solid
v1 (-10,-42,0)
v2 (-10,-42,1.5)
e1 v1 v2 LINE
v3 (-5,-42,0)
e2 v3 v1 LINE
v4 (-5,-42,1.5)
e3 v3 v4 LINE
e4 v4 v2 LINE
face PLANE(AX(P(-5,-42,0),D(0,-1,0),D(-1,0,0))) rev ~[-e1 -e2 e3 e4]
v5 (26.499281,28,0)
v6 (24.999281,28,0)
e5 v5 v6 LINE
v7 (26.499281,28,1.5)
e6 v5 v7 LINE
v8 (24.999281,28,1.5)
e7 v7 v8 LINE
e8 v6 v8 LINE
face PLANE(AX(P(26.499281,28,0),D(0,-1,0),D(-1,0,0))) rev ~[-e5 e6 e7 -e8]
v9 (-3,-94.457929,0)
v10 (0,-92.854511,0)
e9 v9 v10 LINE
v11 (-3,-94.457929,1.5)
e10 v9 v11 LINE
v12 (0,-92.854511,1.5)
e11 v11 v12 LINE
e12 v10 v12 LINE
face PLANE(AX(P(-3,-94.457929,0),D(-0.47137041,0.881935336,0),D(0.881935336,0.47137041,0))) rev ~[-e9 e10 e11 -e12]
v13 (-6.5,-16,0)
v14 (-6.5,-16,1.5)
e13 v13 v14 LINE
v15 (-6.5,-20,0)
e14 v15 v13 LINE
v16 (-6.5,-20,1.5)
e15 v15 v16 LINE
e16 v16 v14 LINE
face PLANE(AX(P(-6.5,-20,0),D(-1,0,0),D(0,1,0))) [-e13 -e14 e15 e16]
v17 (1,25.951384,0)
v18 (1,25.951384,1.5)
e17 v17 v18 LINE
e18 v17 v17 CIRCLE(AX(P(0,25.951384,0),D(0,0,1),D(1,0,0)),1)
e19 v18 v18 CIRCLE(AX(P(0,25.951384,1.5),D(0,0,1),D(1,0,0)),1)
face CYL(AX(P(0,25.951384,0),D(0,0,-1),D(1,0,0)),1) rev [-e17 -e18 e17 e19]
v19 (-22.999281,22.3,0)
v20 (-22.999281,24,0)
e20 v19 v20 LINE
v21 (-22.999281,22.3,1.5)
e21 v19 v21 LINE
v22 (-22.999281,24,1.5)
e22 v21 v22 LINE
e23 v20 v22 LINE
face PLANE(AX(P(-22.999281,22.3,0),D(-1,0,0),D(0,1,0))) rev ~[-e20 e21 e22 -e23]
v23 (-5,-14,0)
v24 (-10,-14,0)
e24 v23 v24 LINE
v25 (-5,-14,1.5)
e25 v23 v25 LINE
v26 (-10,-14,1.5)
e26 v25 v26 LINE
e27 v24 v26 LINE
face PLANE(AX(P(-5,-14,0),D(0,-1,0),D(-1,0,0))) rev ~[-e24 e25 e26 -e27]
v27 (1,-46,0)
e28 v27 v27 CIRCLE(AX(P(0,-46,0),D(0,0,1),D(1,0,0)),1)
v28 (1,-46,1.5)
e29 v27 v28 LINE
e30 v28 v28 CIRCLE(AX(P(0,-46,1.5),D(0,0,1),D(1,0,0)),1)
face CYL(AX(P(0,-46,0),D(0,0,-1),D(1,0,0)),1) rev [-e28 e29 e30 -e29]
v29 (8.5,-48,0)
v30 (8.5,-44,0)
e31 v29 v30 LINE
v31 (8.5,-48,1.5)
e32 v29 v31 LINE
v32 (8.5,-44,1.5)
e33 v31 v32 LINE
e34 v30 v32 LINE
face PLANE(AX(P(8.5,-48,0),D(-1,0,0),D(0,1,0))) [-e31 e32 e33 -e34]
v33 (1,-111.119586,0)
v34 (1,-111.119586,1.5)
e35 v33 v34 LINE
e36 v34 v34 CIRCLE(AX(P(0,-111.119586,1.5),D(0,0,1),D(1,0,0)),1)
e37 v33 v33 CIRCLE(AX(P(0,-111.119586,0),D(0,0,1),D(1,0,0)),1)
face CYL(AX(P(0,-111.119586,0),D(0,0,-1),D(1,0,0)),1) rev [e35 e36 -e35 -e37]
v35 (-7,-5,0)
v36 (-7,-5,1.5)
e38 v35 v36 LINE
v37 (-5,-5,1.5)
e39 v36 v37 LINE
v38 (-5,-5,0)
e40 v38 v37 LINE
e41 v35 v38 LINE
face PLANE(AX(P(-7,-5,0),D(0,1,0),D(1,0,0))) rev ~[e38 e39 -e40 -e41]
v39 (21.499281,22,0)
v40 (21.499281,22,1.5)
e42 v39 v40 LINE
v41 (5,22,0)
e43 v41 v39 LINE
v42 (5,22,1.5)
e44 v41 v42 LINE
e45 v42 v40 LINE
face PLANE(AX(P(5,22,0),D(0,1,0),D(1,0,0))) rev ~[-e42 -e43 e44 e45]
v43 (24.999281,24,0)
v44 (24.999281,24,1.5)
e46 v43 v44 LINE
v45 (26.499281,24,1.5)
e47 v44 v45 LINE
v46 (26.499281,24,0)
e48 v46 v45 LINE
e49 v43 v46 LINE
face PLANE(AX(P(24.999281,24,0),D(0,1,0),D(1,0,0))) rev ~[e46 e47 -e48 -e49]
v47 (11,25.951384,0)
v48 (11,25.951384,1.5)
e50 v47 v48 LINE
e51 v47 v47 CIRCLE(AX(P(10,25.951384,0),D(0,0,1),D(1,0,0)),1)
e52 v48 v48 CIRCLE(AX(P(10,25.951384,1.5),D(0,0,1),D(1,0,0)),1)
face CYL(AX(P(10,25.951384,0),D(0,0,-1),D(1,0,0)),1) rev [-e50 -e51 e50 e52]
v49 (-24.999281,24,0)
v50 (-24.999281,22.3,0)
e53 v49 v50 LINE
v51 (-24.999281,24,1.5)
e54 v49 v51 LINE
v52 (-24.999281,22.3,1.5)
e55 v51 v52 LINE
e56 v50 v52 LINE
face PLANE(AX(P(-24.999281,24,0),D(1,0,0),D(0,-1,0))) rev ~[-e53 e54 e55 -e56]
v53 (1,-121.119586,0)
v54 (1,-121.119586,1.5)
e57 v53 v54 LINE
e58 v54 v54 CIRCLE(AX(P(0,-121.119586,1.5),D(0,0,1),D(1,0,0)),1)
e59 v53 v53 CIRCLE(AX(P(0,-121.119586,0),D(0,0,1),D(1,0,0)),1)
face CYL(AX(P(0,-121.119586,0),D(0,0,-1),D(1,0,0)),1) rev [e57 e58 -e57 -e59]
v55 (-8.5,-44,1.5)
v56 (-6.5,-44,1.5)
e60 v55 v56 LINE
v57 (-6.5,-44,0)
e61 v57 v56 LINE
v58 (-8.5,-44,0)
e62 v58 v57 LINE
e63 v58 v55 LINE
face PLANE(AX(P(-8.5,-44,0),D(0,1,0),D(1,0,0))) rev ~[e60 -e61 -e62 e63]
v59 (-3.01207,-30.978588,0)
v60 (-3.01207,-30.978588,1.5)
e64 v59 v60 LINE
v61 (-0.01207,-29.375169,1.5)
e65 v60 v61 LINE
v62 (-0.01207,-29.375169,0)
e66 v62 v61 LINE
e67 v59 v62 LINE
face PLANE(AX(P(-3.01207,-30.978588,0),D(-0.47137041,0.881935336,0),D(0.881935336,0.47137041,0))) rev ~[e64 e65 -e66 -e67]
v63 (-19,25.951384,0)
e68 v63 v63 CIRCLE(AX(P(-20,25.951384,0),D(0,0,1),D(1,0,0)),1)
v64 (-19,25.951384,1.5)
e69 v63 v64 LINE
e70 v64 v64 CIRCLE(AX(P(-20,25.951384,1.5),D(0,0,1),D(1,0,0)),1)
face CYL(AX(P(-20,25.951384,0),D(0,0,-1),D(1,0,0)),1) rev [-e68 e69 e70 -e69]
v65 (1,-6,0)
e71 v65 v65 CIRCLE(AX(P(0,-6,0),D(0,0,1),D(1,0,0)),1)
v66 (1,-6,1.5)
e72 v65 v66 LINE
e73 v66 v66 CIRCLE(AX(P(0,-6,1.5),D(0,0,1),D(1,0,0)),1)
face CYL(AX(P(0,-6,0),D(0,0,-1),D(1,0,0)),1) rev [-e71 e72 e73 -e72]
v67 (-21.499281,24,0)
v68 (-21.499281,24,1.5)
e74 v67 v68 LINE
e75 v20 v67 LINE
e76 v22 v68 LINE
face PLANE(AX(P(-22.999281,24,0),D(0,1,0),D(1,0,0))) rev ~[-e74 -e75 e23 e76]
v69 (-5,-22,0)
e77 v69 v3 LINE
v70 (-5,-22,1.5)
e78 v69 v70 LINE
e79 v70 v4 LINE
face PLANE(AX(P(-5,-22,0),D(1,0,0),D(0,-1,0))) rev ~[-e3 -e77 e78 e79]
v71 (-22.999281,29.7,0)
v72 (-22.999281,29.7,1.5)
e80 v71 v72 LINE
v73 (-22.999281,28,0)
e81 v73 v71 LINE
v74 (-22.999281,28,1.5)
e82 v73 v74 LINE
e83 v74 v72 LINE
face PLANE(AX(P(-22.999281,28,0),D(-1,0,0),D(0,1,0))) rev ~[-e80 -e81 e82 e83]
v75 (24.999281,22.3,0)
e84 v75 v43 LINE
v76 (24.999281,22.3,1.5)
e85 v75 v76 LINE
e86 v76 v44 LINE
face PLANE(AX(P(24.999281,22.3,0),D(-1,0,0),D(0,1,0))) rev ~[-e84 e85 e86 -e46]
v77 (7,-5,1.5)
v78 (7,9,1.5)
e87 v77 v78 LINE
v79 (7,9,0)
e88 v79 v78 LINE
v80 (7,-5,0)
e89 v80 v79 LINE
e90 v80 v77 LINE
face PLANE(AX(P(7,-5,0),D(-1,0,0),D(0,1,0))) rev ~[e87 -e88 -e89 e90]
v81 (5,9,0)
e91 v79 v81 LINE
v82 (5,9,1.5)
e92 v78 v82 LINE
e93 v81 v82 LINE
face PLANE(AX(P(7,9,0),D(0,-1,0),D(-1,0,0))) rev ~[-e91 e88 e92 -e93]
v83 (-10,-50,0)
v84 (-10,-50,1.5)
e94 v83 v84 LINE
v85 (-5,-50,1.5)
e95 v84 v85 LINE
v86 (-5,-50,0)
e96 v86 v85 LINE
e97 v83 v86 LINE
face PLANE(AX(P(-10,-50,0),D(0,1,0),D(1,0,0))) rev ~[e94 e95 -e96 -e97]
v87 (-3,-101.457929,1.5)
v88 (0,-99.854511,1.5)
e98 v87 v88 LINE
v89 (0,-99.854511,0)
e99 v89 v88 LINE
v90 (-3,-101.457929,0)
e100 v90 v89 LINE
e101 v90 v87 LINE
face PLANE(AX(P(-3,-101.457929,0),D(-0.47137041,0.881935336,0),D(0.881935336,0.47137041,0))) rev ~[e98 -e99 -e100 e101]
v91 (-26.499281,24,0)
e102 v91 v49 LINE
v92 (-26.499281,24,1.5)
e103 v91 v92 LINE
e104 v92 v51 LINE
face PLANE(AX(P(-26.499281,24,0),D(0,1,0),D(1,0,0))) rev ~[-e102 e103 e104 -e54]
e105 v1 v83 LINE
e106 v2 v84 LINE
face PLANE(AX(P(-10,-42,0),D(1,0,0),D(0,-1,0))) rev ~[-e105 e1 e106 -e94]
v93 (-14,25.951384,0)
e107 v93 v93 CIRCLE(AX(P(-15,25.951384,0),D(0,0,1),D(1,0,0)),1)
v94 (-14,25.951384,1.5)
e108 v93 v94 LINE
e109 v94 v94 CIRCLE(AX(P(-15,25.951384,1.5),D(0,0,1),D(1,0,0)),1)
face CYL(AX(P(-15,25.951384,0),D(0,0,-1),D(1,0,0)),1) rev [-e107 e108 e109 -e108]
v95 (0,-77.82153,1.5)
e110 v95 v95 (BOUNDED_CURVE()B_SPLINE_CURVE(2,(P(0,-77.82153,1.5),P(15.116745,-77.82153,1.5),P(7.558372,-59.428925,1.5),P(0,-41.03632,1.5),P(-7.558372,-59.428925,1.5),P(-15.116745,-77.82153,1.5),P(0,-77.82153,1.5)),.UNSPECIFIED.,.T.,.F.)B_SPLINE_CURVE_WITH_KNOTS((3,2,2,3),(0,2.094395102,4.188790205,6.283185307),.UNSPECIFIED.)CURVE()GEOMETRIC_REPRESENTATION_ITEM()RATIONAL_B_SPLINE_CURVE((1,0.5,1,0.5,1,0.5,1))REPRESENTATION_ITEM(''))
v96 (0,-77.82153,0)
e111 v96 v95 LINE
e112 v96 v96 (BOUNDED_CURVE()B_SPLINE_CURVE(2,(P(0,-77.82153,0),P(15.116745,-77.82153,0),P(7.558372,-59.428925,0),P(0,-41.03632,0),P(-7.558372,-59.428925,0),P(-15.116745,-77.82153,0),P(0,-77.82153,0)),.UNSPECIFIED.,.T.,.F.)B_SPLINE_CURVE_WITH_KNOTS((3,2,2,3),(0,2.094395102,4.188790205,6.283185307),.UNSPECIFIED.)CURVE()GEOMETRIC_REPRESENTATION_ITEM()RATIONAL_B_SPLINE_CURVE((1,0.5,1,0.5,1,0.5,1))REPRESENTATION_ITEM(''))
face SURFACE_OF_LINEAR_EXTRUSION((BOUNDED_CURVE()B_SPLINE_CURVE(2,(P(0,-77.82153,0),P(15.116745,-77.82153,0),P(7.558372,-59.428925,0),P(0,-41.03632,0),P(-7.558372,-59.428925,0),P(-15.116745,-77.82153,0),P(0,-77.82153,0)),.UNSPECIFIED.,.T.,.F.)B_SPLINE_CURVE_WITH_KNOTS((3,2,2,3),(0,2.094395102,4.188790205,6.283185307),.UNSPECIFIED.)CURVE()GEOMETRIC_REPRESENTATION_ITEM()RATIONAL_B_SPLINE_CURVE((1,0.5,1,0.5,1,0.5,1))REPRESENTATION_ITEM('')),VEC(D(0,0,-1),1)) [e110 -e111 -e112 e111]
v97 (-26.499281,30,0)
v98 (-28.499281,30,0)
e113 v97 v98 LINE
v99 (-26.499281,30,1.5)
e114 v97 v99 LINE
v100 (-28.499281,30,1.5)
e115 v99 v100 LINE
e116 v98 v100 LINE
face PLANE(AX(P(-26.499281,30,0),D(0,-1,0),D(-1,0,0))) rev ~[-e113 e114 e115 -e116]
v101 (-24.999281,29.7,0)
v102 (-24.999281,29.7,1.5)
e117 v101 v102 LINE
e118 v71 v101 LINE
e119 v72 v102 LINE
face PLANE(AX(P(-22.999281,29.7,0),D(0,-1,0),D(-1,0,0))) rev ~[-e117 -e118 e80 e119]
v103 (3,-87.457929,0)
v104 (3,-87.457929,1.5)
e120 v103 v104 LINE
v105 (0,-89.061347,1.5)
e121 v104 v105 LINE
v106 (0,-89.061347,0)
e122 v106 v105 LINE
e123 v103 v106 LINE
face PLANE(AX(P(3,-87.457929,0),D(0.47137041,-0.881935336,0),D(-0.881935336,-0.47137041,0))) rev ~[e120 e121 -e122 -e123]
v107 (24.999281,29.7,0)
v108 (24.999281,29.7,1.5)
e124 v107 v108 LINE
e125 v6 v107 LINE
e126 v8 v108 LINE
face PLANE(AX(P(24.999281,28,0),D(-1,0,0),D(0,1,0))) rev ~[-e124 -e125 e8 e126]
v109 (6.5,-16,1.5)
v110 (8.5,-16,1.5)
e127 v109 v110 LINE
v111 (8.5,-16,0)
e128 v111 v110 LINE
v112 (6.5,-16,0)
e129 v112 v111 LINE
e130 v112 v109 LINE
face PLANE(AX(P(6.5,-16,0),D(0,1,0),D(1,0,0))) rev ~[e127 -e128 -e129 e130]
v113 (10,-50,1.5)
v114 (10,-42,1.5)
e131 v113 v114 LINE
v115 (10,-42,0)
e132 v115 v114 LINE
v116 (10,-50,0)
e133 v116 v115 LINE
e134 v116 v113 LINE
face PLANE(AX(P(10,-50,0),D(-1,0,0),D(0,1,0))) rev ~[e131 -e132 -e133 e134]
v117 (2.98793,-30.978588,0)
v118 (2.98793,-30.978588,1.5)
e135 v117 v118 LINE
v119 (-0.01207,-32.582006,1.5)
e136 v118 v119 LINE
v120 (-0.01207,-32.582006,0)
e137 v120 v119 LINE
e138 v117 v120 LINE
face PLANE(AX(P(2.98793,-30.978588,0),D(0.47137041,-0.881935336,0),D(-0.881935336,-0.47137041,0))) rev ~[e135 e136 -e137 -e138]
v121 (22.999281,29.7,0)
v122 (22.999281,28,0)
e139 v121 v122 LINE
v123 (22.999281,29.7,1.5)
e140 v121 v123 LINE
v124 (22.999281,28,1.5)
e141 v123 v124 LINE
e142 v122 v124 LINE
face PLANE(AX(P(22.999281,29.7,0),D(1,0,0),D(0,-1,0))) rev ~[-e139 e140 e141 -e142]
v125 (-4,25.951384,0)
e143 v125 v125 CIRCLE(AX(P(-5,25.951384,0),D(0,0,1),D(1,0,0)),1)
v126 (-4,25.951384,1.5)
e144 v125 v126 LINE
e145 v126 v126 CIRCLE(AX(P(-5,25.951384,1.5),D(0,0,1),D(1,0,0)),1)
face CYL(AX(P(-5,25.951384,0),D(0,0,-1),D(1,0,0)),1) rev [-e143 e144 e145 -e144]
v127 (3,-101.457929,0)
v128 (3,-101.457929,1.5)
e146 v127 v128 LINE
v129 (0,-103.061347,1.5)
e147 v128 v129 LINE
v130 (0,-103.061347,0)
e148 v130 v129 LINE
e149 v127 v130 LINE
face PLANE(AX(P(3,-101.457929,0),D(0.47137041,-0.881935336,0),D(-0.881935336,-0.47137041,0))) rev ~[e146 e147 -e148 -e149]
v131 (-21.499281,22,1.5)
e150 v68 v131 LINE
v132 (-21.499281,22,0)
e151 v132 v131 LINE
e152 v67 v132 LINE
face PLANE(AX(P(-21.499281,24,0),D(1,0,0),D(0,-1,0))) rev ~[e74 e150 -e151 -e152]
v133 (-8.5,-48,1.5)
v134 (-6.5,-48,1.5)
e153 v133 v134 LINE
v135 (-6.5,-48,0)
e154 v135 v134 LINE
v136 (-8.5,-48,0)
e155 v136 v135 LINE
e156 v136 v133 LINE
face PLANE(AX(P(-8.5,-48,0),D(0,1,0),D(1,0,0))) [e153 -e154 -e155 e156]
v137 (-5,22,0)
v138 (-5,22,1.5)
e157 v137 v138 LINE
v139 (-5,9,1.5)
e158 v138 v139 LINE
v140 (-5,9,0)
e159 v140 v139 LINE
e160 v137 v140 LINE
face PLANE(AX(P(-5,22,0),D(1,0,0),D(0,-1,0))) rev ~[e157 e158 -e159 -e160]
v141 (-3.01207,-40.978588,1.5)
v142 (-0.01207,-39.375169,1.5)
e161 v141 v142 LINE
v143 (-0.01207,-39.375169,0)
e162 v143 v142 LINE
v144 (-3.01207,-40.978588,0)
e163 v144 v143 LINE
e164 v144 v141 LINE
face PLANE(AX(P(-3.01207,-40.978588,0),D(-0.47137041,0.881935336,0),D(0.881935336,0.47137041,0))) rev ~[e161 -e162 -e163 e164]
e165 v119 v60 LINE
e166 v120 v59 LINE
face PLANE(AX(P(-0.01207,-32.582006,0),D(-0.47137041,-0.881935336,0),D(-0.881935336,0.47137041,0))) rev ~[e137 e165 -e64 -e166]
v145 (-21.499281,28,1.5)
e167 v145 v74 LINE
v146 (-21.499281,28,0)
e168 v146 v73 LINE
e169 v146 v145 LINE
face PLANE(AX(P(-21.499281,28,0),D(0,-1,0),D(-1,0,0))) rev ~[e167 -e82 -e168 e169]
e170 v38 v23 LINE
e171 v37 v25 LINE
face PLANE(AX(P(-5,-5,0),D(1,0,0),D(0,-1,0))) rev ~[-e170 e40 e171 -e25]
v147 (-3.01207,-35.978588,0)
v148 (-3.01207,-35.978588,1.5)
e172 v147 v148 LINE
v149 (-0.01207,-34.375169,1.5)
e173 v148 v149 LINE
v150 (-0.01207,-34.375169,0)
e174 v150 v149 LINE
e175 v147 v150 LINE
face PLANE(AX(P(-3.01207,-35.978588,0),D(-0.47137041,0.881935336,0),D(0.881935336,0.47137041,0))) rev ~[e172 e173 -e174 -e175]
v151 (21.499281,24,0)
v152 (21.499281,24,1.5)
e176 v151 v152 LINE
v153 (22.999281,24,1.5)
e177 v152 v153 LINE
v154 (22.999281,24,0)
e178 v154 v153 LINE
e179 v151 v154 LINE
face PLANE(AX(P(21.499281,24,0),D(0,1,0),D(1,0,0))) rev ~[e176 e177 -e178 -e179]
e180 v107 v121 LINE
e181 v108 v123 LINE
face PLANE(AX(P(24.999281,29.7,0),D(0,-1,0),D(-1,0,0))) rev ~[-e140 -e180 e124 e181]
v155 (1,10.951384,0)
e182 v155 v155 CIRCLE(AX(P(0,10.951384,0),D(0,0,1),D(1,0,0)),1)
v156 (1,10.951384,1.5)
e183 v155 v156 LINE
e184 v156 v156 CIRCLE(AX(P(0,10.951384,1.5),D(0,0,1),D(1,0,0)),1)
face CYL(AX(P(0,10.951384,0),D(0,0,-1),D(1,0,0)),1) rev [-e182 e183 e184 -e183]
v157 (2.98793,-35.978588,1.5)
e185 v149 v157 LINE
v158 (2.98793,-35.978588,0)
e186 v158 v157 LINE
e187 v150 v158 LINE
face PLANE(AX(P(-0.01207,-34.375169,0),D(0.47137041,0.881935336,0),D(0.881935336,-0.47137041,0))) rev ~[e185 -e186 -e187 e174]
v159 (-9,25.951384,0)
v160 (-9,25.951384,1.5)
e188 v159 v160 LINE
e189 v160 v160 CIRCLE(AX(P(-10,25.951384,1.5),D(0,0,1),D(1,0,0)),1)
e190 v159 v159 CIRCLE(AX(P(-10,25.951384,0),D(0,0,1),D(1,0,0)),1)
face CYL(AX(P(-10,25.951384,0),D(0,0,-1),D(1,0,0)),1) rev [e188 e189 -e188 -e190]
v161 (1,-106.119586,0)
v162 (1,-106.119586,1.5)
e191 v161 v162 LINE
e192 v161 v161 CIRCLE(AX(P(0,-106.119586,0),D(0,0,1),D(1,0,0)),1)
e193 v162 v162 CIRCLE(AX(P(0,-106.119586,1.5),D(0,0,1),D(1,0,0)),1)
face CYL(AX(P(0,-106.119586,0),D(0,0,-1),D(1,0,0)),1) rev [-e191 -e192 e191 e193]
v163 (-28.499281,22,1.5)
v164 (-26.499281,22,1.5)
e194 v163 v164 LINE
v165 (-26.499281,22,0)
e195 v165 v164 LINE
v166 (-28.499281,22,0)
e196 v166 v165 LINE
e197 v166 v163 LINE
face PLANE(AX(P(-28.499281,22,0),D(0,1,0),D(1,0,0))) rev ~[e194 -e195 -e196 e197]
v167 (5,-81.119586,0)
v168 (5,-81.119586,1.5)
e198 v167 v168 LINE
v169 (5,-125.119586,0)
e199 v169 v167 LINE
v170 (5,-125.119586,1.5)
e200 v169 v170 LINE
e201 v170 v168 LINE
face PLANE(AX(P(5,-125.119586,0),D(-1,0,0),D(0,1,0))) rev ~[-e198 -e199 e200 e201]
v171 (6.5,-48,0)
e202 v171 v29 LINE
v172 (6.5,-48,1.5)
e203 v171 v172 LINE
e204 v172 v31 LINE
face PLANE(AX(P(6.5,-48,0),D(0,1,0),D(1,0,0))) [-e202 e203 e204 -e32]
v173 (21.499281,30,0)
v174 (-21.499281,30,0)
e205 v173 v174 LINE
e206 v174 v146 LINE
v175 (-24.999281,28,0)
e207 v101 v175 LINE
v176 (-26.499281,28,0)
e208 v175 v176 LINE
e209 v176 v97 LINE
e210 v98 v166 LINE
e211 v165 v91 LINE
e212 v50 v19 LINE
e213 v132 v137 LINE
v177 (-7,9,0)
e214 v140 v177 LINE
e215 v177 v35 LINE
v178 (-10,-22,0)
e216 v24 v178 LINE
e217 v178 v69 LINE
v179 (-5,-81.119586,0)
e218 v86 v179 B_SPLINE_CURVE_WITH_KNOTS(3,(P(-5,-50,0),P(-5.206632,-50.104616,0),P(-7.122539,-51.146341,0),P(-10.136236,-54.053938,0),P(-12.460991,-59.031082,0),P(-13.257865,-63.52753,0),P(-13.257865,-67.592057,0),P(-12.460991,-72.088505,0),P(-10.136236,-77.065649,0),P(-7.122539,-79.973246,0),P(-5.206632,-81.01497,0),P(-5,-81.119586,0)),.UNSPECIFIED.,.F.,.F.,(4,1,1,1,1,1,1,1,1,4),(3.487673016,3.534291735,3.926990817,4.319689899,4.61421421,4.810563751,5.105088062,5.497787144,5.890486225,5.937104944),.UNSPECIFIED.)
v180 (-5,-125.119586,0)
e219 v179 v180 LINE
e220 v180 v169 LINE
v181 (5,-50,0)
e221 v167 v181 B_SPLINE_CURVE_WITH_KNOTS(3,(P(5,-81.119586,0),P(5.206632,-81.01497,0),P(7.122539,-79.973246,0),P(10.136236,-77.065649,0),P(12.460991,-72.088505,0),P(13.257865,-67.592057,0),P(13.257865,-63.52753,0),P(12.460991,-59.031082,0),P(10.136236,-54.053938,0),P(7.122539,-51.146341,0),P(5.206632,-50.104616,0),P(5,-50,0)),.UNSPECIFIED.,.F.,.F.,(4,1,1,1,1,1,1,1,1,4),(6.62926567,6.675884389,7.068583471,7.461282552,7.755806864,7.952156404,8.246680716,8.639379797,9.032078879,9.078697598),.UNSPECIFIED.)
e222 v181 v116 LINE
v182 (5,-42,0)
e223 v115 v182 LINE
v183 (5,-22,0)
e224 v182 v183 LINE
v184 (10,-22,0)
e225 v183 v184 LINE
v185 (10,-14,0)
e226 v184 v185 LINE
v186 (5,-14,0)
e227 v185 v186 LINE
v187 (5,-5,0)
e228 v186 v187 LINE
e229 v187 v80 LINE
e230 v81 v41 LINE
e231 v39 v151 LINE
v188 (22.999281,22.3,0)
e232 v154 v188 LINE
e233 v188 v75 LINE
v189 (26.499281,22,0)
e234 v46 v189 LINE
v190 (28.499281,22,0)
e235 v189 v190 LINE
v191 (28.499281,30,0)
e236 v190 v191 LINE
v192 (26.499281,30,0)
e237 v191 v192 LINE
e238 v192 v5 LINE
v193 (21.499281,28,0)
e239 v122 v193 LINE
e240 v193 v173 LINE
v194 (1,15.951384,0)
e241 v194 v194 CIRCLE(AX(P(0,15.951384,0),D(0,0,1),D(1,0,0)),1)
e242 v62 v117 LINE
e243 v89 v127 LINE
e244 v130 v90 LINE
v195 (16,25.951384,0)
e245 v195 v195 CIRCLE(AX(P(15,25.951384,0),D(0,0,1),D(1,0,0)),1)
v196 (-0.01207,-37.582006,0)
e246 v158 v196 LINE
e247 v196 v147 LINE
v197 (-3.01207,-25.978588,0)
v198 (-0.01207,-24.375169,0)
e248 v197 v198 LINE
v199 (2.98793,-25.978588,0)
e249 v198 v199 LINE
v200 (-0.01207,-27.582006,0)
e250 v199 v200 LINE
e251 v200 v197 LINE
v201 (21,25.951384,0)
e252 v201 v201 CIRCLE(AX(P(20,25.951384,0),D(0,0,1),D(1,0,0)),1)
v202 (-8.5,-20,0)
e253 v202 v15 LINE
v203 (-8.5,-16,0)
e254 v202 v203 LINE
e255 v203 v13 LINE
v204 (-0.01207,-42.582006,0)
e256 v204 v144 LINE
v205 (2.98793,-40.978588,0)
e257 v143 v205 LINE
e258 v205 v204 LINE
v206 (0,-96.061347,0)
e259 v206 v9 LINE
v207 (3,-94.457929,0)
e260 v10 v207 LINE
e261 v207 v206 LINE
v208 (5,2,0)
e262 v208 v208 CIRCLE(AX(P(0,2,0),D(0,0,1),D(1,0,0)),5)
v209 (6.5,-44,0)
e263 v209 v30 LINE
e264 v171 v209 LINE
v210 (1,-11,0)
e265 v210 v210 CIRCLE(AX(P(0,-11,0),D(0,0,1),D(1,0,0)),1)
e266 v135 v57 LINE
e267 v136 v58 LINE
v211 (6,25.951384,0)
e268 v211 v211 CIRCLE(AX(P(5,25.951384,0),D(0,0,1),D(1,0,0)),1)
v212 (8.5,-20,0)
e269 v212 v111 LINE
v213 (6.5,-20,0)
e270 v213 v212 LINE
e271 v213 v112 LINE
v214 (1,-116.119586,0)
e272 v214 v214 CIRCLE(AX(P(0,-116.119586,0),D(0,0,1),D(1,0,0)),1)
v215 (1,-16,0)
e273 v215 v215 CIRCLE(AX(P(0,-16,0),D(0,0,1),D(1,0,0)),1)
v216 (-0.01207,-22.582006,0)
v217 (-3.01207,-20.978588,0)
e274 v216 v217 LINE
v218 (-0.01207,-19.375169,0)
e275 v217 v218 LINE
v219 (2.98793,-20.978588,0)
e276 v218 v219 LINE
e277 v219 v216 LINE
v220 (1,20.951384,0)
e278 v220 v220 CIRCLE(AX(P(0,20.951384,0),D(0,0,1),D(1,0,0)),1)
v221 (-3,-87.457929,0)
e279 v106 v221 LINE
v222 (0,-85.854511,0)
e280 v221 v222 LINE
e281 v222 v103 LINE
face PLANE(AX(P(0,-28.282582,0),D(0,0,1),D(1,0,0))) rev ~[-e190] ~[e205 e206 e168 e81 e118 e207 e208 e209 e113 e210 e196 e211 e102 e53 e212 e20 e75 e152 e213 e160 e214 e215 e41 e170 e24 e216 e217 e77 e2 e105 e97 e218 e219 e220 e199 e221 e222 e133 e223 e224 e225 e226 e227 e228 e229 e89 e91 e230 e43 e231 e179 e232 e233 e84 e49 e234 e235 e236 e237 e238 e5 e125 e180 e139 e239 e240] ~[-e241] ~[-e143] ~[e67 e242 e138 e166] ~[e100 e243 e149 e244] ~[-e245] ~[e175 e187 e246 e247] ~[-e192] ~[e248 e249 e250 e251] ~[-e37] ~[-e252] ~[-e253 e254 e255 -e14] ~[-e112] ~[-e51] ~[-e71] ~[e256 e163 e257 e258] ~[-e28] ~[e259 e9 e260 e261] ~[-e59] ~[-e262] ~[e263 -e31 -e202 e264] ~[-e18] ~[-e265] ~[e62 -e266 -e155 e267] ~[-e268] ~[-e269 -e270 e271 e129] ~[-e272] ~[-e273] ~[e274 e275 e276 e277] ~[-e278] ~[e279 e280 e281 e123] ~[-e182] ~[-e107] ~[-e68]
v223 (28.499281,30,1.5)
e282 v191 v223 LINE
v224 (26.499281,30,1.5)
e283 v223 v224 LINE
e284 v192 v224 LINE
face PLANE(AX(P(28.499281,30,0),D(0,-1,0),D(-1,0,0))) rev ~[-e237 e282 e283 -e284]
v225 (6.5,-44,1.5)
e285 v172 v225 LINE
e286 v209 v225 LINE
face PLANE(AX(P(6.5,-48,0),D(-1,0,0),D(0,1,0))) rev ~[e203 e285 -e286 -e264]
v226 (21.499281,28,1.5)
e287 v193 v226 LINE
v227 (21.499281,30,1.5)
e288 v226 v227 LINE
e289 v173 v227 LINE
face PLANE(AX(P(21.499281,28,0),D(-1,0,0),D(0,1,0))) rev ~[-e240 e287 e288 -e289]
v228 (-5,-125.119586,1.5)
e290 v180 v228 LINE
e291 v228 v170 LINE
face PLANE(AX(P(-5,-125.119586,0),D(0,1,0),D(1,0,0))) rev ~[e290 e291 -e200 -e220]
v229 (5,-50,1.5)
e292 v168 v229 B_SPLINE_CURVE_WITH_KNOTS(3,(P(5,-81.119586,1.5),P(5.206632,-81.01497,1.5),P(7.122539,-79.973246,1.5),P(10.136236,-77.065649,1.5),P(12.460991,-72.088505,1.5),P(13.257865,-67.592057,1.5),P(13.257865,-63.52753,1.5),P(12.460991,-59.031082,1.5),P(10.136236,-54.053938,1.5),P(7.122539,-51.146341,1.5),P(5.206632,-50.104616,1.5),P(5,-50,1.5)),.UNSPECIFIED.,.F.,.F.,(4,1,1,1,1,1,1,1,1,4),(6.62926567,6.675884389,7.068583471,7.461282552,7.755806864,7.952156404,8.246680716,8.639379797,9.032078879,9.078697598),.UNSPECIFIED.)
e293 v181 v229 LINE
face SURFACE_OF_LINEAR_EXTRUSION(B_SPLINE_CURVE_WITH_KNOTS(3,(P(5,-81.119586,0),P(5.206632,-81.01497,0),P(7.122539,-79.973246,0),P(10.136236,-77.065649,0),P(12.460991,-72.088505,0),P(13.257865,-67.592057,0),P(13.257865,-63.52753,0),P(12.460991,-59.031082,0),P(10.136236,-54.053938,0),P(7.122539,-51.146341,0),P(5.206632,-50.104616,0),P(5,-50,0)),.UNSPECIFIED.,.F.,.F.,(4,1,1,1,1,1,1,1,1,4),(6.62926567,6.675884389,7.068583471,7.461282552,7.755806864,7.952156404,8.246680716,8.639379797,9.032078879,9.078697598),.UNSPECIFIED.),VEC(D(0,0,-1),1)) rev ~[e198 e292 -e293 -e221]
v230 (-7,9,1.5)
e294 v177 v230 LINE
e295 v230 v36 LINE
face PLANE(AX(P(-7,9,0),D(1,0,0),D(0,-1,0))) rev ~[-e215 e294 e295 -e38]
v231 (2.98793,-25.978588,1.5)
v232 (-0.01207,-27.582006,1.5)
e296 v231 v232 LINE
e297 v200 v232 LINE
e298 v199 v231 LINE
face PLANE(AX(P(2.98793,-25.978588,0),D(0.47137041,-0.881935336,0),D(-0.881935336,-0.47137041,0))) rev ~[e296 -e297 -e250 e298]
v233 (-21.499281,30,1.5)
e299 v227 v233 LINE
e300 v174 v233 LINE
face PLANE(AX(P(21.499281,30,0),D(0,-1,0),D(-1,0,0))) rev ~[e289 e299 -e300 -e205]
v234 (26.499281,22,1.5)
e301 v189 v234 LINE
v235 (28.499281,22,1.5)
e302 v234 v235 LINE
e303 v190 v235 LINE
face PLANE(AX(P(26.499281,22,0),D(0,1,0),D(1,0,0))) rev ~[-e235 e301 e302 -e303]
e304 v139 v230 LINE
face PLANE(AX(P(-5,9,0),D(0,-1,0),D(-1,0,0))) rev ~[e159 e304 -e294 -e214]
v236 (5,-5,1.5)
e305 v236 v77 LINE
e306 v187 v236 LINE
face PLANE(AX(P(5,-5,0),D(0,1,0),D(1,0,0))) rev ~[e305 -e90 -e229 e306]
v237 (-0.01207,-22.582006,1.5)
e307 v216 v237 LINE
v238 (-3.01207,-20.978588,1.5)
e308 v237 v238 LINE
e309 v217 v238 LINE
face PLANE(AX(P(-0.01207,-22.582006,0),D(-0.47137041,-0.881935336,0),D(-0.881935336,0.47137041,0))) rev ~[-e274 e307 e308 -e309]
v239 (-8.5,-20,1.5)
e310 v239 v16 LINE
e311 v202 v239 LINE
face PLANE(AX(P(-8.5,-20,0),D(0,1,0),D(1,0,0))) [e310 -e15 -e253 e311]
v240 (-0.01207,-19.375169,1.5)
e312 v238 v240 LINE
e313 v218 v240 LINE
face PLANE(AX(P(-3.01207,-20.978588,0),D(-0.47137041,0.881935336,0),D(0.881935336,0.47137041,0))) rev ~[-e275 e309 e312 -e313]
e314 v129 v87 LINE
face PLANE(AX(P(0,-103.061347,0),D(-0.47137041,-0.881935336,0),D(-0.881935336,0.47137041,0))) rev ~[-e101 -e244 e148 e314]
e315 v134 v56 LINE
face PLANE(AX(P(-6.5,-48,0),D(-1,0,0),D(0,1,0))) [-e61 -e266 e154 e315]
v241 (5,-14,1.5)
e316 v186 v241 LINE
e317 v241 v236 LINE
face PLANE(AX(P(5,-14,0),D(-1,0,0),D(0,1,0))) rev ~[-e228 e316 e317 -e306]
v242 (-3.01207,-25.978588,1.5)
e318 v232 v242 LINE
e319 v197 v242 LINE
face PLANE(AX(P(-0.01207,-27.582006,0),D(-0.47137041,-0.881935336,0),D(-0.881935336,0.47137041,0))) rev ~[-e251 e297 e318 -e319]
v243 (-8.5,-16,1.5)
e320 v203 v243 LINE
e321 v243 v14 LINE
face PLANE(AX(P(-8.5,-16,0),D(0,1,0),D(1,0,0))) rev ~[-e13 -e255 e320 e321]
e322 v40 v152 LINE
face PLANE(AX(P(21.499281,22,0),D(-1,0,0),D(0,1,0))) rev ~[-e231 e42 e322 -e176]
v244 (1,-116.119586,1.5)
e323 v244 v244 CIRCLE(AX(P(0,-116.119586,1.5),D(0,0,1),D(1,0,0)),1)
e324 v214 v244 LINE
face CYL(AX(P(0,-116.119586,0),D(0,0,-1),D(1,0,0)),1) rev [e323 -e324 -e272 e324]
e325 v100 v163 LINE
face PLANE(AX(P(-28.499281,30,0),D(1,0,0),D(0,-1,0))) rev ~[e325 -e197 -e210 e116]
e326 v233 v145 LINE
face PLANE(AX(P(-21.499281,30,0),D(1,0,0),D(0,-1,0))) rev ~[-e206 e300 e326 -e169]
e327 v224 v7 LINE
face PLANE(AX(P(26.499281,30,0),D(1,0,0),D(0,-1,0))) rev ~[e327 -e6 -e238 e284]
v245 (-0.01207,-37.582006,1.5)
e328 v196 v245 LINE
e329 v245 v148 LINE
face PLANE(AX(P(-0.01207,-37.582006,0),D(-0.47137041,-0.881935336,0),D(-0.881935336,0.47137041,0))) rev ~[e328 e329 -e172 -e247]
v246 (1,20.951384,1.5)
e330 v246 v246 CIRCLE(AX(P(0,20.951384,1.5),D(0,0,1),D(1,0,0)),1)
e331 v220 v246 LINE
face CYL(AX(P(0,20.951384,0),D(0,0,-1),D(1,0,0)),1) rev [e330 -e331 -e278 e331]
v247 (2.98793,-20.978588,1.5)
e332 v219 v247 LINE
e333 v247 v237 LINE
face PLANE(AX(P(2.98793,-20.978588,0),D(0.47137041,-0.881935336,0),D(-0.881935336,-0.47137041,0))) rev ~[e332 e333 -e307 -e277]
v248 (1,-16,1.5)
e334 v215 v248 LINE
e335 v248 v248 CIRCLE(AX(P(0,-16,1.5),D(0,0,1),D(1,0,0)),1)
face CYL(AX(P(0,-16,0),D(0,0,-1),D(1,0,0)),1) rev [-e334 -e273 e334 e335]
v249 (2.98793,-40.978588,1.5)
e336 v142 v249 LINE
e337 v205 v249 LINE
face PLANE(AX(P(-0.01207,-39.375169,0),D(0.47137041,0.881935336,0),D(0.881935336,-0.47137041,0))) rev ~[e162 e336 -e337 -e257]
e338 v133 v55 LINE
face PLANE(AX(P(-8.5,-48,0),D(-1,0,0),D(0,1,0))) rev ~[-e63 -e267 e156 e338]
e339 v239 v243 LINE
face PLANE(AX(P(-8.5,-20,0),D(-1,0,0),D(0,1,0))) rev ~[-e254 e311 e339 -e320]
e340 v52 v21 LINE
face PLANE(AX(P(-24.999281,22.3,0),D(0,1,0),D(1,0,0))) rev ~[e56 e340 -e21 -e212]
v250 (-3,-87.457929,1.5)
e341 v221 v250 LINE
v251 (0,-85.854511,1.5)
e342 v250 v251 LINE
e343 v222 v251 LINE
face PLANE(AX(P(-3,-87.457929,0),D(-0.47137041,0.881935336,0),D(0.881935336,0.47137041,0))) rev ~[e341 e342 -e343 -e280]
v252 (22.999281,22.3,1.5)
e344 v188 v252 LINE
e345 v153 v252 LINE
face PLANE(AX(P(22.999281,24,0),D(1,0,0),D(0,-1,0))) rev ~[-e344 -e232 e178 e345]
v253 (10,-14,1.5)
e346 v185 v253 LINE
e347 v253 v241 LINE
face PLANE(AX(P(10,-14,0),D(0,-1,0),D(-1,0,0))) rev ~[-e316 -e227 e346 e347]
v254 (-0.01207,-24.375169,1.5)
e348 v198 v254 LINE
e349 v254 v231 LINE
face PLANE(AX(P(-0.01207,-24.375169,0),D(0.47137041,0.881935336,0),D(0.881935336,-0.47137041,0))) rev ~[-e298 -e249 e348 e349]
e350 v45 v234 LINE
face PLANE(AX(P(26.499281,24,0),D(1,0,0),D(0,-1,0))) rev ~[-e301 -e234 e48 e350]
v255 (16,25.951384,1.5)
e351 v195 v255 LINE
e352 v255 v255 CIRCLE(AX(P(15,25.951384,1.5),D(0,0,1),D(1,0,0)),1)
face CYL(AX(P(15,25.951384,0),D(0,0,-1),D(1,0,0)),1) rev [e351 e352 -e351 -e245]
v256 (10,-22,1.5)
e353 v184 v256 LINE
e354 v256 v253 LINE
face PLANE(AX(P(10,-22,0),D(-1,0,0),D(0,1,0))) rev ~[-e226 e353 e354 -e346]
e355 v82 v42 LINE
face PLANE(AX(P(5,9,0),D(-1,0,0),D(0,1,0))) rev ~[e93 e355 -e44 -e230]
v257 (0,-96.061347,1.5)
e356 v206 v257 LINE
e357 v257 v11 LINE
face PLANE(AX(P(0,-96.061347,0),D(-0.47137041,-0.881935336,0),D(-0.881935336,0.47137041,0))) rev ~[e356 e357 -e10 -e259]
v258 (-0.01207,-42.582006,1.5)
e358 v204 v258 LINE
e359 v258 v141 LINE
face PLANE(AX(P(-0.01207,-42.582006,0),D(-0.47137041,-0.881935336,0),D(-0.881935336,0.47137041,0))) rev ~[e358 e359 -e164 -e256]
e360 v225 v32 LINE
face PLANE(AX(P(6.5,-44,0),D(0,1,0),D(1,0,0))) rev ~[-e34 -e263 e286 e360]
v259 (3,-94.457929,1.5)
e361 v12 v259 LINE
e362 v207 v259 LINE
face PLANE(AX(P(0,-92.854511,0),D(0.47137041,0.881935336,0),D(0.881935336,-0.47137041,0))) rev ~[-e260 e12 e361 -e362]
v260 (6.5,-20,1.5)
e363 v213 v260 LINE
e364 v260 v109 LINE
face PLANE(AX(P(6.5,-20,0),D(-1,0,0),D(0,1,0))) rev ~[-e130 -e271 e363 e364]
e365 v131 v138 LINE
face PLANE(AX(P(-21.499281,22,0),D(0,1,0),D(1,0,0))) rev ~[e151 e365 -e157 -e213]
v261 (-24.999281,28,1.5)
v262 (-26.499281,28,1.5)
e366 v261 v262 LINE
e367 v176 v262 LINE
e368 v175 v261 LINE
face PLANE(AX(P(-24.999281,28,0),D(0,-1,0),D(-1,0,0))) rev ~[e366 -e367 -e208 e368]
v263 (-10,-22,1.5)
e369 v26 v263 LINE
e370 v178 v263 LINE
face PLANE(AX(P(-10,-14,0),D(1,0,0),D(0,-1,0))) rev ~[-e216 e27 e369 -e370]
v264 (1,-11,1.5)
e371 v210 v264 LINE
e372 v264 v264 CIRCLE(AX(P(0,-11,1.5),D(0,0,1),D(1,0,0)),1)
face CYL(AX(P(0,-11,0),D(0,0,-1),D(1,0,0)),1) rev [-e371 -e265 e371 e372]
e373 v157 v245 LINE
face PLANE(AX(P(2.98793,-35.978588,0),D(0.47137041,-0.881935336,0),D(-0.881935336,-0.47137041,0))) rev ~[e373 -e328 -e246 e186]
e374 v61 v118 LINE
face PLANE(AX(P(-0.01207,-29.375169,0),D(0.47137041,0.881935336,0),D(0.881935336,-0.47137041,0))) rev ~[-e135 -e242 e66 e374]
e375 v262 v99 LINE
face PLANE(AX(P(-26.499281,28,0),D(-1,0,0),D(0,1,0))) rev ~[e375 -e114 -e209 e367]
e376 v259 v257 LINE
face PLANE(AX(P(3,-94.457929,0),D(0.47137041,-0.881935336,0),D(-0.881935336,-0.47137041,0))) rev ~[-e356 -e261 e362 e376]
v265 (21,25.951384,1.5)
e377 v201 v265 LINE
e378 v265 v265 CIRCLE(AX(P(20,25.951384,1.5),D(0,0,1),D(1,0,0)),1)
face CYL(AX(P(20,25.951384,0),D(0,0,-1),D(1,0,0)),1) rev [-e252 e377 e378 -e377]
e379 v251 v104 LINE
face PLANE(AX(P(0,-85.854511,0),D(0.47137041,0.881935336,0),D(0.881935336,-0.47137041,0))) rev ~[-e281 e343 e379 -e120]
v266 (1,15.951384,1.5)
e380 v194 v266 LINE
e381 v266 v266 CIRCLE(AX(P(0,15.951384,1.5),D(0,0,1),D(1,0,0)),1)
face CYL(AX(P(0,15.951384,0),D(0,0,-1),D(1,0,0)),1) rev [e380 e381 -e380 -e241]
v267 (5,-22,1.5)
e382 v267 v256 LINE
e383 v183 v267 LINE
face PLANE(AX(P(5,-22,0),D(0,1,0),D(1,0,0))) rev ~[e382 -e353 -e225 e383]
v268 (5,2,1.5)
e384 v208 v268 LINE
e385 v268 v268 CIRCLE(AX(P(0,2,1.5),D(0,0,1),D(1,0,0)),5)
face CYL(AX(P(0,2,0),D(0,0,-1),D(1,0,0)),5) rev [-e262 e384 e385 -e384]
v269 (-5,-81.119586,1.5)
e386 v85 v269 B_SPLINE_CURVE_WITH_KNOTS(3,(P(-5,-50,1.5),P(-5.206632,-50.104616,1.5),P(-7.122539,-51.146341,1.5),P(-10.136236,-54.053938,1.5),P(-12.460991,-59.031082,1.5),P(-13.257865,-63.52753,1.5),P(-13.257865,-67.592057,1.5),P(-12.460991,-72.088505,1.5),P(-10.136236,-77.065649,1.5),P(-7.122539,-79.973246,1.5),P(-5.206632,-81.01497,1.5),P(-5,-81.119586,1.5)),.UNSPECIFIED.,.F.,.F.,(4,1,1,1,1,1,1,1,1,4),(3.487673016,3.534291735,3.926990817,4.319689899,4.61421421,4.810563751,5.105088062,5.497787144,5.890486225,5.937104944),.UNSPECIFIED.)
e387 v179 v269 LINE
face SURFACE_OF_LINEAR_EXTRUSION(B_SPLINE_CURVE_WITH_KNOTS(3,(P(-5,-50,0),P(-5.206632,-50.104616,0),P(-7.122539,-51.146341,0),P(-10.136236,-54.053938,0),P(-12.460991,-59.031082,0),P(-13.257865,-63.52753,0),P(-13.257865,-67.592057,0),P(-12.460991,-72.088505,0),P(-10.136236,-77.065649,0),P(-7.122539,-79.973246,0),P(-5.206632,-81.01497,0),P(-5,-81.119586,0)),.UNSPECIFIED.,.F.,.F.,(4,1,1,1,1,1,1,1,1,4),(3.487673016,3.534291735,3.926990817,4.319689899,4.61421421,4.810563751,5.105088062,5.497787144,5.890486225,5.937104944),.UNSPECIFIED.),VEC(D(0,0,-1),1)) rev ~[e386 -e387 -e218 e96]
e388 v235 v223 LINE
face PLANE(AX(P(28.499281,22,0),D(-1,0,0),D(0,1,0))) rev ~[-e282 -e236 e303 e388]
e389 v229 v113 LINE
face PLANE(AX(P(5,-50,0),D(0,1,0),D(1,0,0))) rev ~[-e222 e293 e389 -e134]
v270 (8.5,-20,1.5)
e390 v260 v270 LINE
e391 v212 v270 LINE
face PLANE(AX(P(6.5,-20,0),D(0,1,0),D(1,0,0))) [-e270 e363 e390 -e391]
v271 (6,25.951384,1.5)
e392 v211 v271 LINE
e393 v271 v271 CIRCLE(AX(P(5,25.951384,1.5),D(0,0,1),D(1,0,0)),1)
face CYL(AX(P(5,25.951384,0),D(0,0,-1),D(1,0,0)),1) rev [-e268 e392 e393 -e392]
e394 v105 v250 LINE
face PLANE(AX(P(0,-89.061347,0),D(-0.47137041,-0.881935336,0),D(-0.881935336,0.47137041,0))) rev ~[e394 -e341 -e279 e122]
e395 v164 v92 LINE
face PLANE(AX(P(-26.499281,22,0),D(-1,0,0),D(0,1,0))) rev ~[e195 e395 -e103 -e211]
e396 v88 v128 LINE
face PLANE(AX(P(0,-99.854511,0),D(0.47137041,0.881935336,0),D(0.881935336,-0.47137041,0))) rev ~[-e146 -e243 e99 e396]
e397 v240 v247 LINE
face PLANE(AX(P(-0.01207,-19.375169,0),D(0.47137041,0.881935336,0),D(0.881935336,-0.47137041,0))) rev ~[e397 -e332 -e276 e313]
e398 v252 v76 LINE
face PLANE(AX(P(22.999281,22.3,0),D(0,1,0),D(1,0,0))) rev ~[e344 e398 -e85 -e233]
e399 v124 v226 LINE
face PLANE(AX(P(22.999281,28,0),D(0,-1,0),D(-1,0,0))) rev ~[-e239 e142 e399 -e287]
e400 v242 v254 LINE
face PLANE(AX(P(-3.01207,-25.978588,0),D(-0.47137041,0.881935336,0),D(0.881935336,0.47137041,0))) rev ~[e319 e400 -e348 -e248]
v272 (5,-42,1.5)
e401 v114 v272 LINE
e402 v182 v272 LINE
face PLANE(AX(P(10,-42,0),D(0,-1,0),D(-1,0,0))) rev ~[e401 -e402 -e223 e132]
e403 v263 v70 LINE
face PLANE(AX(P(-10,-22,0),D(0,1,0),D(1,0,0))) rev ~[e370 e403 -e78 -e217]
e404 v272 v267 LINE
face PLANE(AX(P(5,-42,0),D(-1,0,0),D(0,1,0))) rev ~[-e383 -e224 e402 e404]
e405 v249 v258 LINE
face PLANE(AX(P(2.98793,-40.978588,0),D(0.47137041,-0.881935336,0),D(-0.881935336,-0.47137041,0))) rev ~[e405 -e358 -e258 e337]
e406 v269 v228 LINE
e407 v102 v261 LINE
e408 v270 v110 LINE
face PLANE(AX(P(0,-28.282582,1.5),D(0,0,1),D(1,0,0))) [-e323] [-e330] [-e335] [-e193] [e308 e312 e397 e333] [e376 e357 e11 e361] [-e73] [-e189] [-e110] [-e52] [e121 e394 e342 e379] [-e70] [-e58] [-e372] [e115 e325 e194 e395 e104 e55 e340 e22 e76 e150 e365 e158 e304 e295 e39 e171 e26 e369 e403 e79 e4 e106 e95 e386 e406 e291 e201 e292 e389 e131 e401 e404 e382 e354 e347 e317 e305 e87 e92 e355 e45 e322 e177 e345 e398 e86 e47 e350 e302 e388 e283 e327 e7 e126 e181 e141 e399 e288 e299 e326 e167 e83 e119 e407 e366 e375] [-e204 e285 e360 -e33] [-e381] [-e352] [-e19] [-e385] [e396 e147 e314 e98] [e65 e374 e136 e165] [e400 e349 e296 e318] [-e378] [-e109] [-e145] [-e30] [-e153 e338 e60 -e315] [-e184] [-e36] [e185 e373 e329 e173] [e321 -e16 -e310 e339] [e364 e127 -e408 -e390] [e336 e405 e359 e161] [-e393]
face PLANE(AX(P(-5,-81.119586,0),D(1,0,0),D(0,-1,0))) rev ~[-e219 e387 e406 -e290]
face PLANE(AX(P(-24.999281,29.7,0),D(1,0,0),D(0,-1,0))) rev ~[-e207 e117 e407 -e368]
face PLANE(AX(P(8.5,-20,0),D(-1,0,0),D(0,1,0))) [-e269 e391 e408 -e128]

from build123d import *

# Parameters (mm, degrees)
SKETCH_1_W      = 2
SKETCH_1_H      = 4
SKETCH_1_R      = 1
SKETCH_1_R_2    = 5
EXTRUDE_1_DEPTH = 1.5


with BuildPart() as part:
    # 草图1 → 凸台-拉伸1 (new body)
    with BuildSketch(Plane.XY):
        with BuildLine():
            Line((21.499281064, 30), (-21.499281064, 30))
            Line((-21.499281064, 30), (-21.499281064, 28))
            Line((-21.499281064, 28), (-22.999281064, 28))
            Line((-22.999281064, 28), (-22.999281064, 29.7))
            Line((-22.999281064, 29.7), (-24.999281064, 29.7))
            Line((-24.999281064, 29.7), (-24.999281064, 28))
            Line((-24.999281064, 28), (-26.499281064, 28))
            Line((-26.499281064, 28), (-26.499281064, 30))
            Line((-26.499281064, 30), (-28.499281064, 30))
            Line((-28.499281064, 30), (-28.499281064, 22))
            Line((-28.499281064, 22), (-26.499281064, 22))
            Line((-26.499281064, 22), (-26.499281064, 24))
            Line((-26.499281064, 24), (-24.999281064, 24))
            Line((-24.999281064, 24), (-24.999281064, 22.3))
            Line((-24.999281064, 22.3), (-22.999281064, 22.3))
            Line((-22.999281064, 22.3), (-22.999281064, 24))
            Line((-22.999281064, 24), (-21.499281064, 24))
            Line((-21.499281064, 24), (-21.499281064, 22))
            Line((-21.499281064, 22), (-5, 22))
            Line((-5, 22), (-5, 9))
            Line((-5, 9), (-7, 9))
            Line((-7, 9), (-7, -5))
            Line((-7, -5), (-5, -5))
            Line((-5, -5), (-5, -14))
            Line((-5, -14), (-10, -14))
            Line((-10, -14), (-10, -22))
            Line((-10, -22), (-5, -22))
            Line((-5, -22), (-5, -42))
            Line((-5, -42), (-10, -42))
            Line((-10, -42), (-10, -50))
            Line((-10, -50), (-5, -50))
            add(Edge.make_bspline(
                [(-5, -50), (-5.206631572, -50.1046163), (-7.122538881, -51.146340962), (-10.136236083, -54.053937604), (-12.460991296, -59.031081614), (-13.257864896, -63.527529667), (-13.257864896, -67.592056821), (-12.460991296, -72.088504874), (-10.136236082, -77.065648884), (-7.122538881, -79.973245525), (-5.206631571, -81.014970188), (-5, -81.119586487)],
                knots=[3.487673016, 3.487673016, 3.487673016, 3.487673016, 3.534291735, 3.926990817, 4.319689899, 4.61421421, 4.810563751, 5.105088062, 5.497787144, 5.890486225, 5.937104944, 5.937104944, 5.937104944, 5.937104944], degree=3))
            Line((-5, -81.119586487), (-5, -125.119586487))
            Line((-5, -125.119586487), (5, -125.119586487))
            Line((5, -125.119586487), (5, -81.119586487))
            add(Edge.make_bspline(
                [(5, -81.119586487), (5.206631572, -81.014970188), (7.122538881, -79.973245525), (10.136236083, -77.065648883), (12.460991296, -72.088504873), (13.257864896, -67.592056821), (13.257864896, -63.527529666), (12.460991296, -59.031081614), (10.136236082, -54.053937604), (7.122538881, -51.146340962), (5.206631571, -50.1046163), (5, -50)],
                knots=[6.62926567, 6.62926567, 6.62926567, 6.62926567, 6.675884389, 7.068583471, 7.461282552, 7.755806864, 7.952156404, 8.246680716, 8.639379797, 9.032078879, 9.078697598, 9.078697598, 9.078697598, 9.078697598], degree=3))
            Line((5, -50), (10, -50))
            Line((10, -50), (10, -42))
            Line((10, -42), (5, -42))
            Line((5, -42), (5, -22))
            Line((5, -22), (10, -22))
            Line((10, -22), (10, -14))
            Line((10, -14), (5, -14))
            Line((5, -14), (5, -5))
            Line((5, -5), (7, -5))
            Line((7, -5), (7, 9))
            Line((7, 9), (5, 9))
            Line((5, 9), (5, 22))
            Line((5, 22), (21.499281064, 22))
            Line((21.499281064, 22), (21.499281064, 24))
            Line((21.499281064, 24), (22.999281064, 24))
            Line((22.999281064, 24), (22.999281064, 22.3))
            Line((22.999281064, 22.3), (24.999281064, 22.3))
            Line((24.999281064, 22.3), (24.999281064, 24))
            Line((24.999281064, 24), (26.499281064, 24))
            Line((26.499281064, 24), (26.499281064, 22))
            Line((26.499281064, 22), (28.499281064, 22))
            Line((28.499281064, 22), (28.499281064, 30))
            Line((28.499281064, 30), (26.499281064, 30))
            Line((26.499281064, 30), (26.499281064, 28))
            Line((26.499281064, 28), (24.999281064, 28))
            Line((24.999281064, 28), (24.999281064, 29.7))
            Line((24.999281064, 29.7), (22.999281064, 29.7))
            Line((22.999281064, 29.7), (22.999281064, 28))
            Line((22.999281064, 28), (21.499281064, 28))
            Line((21.499281064, 28), (21.499281064, 30))
        make_face()
        with Locations((-7.5, -46)):
            Rectangle(SKETCH_1_W, SKETCH_1_H, mode=Mode.SUBTRACT)
        with Locations((0, -46)):
            Circle(SKETCH_1_R, mode=Mode.SUBTRACT)
        Polygon((-0.012070401, -39.375169449), (2.987929599, -40.978587718), (-0.012070401, -42.582005987), (-3.012070401, -40.978587718), align=None, mode=Mode.SUBTRACT)
        Polygon((-0.012070401, -34.375169449), (2.987929599, -35.978587718), (-0.012070401, -37.582005987), (-3.012070401, -35.978587718), align=None, mode=Mode.SUBTRACT)
        Polygon((-0.012070401, -29.375169449), (2.987929599, -30.978587718), (-0.012070401, -32.582005987), (-3.012070401, -30.978587718), align=None, mode=Mode.SUBTRACT)
        with Locations((-7.5, -18)):
            Rectangle(SKETCH_1_W, SKETCH_1_H, mode=Mode.SUBTRACT)
        Polygon((-0.012070401, -24.375169449), (2.987929599, -25.978587718), (-0.012070401, -27.582005987), (-3.012070401, -25.978587718), align=None, mode=Mode.SUBTRACT)
        Polygon((-0.012070401, -19.375169449), (2.987929599, -20.978587718), (-0.012070401, -22.582005987), (-3.012070401, -20.978587718), align=None, mode=Mode.SUBTRACT)
        with Locations((0, -16)):
            Circle(SKETCH_1_R, mode=Mode.SUBTRACT)
        with Locations((0, -11)):
            Circle(SKETCH_1_R, mode=Mode.SUBTRACT)
        with Locations((-20, 25.95138361)):
            Circle(SKETCH_1_R, mode=Mode.SUBTRACT)
        with Locations((-15, 25.95138361)):
            Circle(SKETCH_1_R, mode=Mode.SUBTRACT)
        with Locations((0, -6)):
            Circle(SKETCH_1_R, mode=Mode.SUBTRACT)
        with Locations((0, 2)):
            Circle(SKETCH_1_R_2, mode=Mode.SUBTRACT)
        with Locations((-10, 25.95138361)):
            Circle(SKETCH_1_R, mode=Mode.SUBTRACT)
        with Locations((-5, 25.95138361)):
            Circle(SKETCH_1_R, mode=Mode.SUBTRACT)
        with Locations((0, 25.95138361)):
            Circle(SKETCH_1_R, mode=Mode.SUBTRACT)
        with Locations((7.5, -46)):
            Rectangle(SKETCH_1_W, SKETCH_1_H, mode=Mode.SUBTRACT)
        with Locations((7.5, -18)):
            Rectangle(SKETCH_1_W, SKETCH_1_H, mode=Mode.SUBTRACT)
        with Locations((0, 10.95138361)):
            Circle(SKETCH_1_R, mode=Mode.SUBTRACT)
        with Locations((0, 15.95138361)):
            Circle(SKETCH_1_R, mode=Mode.SUBTRACT)
        with Locations((0, 20.95138361)):
            Circle(SKETCH_1_R, mode=Mode.SUBTRACT)
        with Locations((5, 25.95138361)):
            Circle(SKETCH_1_R, mode=Mode.SUBTRACT)
        with Locations((10, 25.95138361)):
            Circle(SKETCH_1_R, mode=Mode.SUBTRACT)
        with Locations((15, 25.95138361)):
            Circle(SKETCH_1_R, mode=Mode.SUBTRACT)
        with Locations((20, 25.95138361)):
            Circle(SKETCH_1_R, mode=Mode.SUBTRACT)
        with BuildLine():
            add(Edge.make_bspline(
                [(0, -77.82152984), (15.11674465, -77.82152984), (7.558372325, -59.428924948), (0, -41.036320056), (-7.558372325, -59.428924948), (-15.11674465, -77.82152984), (0, -77.82152984)],
                knots=[0, 0, 0, 2.094395102, 2.094395102, 4.188790205, 4.188790205, 6.283185307, 6.283185307, 6.283185307], degree=2, weights=[1, 0.5, 1, 0.5, 1, 0.5, 1]))
        make_face(mode=Mode.SUBTRACT)
        Polygon((3, -87.457928946), (0, -89.061347215), (-3, -87.457928946), (0, -85.854510677), align=None, mode=Mode.SUBTRACT)
        with Locations((0, -121.119586487)):
            Circle(SKETCH_1_R, mode=Mode.SUBTRACT)
        with Locations((0, -116.119586487)):
            Circle(SKETCH_1_R, mode=Mode.SUBTRACT)
        with Locations((0, -111.119586487)):
            Circle(SKETCH_1_R, mode=Mode.SUBTRACT)
        with Locations((0, -106.119586487)):
            Circle(SKETCH_1_R, mode=Mode.SUBTRACT)
        Polygon((0, -99.854510677), (3, -101.457928946), (0, -103.061347215), (-3, -101.457928946), align=None, mode=Mode.SUBTRACT)
        Polygon((0, -92.854510677), (3, -94.457928946), (0, -96.061347215), (-3, -94.457928946), align=None, mode=Mode.SUBTRACT)
    extrude(amount=EXTRUDE_1_DEPTH)


solid = part.part
